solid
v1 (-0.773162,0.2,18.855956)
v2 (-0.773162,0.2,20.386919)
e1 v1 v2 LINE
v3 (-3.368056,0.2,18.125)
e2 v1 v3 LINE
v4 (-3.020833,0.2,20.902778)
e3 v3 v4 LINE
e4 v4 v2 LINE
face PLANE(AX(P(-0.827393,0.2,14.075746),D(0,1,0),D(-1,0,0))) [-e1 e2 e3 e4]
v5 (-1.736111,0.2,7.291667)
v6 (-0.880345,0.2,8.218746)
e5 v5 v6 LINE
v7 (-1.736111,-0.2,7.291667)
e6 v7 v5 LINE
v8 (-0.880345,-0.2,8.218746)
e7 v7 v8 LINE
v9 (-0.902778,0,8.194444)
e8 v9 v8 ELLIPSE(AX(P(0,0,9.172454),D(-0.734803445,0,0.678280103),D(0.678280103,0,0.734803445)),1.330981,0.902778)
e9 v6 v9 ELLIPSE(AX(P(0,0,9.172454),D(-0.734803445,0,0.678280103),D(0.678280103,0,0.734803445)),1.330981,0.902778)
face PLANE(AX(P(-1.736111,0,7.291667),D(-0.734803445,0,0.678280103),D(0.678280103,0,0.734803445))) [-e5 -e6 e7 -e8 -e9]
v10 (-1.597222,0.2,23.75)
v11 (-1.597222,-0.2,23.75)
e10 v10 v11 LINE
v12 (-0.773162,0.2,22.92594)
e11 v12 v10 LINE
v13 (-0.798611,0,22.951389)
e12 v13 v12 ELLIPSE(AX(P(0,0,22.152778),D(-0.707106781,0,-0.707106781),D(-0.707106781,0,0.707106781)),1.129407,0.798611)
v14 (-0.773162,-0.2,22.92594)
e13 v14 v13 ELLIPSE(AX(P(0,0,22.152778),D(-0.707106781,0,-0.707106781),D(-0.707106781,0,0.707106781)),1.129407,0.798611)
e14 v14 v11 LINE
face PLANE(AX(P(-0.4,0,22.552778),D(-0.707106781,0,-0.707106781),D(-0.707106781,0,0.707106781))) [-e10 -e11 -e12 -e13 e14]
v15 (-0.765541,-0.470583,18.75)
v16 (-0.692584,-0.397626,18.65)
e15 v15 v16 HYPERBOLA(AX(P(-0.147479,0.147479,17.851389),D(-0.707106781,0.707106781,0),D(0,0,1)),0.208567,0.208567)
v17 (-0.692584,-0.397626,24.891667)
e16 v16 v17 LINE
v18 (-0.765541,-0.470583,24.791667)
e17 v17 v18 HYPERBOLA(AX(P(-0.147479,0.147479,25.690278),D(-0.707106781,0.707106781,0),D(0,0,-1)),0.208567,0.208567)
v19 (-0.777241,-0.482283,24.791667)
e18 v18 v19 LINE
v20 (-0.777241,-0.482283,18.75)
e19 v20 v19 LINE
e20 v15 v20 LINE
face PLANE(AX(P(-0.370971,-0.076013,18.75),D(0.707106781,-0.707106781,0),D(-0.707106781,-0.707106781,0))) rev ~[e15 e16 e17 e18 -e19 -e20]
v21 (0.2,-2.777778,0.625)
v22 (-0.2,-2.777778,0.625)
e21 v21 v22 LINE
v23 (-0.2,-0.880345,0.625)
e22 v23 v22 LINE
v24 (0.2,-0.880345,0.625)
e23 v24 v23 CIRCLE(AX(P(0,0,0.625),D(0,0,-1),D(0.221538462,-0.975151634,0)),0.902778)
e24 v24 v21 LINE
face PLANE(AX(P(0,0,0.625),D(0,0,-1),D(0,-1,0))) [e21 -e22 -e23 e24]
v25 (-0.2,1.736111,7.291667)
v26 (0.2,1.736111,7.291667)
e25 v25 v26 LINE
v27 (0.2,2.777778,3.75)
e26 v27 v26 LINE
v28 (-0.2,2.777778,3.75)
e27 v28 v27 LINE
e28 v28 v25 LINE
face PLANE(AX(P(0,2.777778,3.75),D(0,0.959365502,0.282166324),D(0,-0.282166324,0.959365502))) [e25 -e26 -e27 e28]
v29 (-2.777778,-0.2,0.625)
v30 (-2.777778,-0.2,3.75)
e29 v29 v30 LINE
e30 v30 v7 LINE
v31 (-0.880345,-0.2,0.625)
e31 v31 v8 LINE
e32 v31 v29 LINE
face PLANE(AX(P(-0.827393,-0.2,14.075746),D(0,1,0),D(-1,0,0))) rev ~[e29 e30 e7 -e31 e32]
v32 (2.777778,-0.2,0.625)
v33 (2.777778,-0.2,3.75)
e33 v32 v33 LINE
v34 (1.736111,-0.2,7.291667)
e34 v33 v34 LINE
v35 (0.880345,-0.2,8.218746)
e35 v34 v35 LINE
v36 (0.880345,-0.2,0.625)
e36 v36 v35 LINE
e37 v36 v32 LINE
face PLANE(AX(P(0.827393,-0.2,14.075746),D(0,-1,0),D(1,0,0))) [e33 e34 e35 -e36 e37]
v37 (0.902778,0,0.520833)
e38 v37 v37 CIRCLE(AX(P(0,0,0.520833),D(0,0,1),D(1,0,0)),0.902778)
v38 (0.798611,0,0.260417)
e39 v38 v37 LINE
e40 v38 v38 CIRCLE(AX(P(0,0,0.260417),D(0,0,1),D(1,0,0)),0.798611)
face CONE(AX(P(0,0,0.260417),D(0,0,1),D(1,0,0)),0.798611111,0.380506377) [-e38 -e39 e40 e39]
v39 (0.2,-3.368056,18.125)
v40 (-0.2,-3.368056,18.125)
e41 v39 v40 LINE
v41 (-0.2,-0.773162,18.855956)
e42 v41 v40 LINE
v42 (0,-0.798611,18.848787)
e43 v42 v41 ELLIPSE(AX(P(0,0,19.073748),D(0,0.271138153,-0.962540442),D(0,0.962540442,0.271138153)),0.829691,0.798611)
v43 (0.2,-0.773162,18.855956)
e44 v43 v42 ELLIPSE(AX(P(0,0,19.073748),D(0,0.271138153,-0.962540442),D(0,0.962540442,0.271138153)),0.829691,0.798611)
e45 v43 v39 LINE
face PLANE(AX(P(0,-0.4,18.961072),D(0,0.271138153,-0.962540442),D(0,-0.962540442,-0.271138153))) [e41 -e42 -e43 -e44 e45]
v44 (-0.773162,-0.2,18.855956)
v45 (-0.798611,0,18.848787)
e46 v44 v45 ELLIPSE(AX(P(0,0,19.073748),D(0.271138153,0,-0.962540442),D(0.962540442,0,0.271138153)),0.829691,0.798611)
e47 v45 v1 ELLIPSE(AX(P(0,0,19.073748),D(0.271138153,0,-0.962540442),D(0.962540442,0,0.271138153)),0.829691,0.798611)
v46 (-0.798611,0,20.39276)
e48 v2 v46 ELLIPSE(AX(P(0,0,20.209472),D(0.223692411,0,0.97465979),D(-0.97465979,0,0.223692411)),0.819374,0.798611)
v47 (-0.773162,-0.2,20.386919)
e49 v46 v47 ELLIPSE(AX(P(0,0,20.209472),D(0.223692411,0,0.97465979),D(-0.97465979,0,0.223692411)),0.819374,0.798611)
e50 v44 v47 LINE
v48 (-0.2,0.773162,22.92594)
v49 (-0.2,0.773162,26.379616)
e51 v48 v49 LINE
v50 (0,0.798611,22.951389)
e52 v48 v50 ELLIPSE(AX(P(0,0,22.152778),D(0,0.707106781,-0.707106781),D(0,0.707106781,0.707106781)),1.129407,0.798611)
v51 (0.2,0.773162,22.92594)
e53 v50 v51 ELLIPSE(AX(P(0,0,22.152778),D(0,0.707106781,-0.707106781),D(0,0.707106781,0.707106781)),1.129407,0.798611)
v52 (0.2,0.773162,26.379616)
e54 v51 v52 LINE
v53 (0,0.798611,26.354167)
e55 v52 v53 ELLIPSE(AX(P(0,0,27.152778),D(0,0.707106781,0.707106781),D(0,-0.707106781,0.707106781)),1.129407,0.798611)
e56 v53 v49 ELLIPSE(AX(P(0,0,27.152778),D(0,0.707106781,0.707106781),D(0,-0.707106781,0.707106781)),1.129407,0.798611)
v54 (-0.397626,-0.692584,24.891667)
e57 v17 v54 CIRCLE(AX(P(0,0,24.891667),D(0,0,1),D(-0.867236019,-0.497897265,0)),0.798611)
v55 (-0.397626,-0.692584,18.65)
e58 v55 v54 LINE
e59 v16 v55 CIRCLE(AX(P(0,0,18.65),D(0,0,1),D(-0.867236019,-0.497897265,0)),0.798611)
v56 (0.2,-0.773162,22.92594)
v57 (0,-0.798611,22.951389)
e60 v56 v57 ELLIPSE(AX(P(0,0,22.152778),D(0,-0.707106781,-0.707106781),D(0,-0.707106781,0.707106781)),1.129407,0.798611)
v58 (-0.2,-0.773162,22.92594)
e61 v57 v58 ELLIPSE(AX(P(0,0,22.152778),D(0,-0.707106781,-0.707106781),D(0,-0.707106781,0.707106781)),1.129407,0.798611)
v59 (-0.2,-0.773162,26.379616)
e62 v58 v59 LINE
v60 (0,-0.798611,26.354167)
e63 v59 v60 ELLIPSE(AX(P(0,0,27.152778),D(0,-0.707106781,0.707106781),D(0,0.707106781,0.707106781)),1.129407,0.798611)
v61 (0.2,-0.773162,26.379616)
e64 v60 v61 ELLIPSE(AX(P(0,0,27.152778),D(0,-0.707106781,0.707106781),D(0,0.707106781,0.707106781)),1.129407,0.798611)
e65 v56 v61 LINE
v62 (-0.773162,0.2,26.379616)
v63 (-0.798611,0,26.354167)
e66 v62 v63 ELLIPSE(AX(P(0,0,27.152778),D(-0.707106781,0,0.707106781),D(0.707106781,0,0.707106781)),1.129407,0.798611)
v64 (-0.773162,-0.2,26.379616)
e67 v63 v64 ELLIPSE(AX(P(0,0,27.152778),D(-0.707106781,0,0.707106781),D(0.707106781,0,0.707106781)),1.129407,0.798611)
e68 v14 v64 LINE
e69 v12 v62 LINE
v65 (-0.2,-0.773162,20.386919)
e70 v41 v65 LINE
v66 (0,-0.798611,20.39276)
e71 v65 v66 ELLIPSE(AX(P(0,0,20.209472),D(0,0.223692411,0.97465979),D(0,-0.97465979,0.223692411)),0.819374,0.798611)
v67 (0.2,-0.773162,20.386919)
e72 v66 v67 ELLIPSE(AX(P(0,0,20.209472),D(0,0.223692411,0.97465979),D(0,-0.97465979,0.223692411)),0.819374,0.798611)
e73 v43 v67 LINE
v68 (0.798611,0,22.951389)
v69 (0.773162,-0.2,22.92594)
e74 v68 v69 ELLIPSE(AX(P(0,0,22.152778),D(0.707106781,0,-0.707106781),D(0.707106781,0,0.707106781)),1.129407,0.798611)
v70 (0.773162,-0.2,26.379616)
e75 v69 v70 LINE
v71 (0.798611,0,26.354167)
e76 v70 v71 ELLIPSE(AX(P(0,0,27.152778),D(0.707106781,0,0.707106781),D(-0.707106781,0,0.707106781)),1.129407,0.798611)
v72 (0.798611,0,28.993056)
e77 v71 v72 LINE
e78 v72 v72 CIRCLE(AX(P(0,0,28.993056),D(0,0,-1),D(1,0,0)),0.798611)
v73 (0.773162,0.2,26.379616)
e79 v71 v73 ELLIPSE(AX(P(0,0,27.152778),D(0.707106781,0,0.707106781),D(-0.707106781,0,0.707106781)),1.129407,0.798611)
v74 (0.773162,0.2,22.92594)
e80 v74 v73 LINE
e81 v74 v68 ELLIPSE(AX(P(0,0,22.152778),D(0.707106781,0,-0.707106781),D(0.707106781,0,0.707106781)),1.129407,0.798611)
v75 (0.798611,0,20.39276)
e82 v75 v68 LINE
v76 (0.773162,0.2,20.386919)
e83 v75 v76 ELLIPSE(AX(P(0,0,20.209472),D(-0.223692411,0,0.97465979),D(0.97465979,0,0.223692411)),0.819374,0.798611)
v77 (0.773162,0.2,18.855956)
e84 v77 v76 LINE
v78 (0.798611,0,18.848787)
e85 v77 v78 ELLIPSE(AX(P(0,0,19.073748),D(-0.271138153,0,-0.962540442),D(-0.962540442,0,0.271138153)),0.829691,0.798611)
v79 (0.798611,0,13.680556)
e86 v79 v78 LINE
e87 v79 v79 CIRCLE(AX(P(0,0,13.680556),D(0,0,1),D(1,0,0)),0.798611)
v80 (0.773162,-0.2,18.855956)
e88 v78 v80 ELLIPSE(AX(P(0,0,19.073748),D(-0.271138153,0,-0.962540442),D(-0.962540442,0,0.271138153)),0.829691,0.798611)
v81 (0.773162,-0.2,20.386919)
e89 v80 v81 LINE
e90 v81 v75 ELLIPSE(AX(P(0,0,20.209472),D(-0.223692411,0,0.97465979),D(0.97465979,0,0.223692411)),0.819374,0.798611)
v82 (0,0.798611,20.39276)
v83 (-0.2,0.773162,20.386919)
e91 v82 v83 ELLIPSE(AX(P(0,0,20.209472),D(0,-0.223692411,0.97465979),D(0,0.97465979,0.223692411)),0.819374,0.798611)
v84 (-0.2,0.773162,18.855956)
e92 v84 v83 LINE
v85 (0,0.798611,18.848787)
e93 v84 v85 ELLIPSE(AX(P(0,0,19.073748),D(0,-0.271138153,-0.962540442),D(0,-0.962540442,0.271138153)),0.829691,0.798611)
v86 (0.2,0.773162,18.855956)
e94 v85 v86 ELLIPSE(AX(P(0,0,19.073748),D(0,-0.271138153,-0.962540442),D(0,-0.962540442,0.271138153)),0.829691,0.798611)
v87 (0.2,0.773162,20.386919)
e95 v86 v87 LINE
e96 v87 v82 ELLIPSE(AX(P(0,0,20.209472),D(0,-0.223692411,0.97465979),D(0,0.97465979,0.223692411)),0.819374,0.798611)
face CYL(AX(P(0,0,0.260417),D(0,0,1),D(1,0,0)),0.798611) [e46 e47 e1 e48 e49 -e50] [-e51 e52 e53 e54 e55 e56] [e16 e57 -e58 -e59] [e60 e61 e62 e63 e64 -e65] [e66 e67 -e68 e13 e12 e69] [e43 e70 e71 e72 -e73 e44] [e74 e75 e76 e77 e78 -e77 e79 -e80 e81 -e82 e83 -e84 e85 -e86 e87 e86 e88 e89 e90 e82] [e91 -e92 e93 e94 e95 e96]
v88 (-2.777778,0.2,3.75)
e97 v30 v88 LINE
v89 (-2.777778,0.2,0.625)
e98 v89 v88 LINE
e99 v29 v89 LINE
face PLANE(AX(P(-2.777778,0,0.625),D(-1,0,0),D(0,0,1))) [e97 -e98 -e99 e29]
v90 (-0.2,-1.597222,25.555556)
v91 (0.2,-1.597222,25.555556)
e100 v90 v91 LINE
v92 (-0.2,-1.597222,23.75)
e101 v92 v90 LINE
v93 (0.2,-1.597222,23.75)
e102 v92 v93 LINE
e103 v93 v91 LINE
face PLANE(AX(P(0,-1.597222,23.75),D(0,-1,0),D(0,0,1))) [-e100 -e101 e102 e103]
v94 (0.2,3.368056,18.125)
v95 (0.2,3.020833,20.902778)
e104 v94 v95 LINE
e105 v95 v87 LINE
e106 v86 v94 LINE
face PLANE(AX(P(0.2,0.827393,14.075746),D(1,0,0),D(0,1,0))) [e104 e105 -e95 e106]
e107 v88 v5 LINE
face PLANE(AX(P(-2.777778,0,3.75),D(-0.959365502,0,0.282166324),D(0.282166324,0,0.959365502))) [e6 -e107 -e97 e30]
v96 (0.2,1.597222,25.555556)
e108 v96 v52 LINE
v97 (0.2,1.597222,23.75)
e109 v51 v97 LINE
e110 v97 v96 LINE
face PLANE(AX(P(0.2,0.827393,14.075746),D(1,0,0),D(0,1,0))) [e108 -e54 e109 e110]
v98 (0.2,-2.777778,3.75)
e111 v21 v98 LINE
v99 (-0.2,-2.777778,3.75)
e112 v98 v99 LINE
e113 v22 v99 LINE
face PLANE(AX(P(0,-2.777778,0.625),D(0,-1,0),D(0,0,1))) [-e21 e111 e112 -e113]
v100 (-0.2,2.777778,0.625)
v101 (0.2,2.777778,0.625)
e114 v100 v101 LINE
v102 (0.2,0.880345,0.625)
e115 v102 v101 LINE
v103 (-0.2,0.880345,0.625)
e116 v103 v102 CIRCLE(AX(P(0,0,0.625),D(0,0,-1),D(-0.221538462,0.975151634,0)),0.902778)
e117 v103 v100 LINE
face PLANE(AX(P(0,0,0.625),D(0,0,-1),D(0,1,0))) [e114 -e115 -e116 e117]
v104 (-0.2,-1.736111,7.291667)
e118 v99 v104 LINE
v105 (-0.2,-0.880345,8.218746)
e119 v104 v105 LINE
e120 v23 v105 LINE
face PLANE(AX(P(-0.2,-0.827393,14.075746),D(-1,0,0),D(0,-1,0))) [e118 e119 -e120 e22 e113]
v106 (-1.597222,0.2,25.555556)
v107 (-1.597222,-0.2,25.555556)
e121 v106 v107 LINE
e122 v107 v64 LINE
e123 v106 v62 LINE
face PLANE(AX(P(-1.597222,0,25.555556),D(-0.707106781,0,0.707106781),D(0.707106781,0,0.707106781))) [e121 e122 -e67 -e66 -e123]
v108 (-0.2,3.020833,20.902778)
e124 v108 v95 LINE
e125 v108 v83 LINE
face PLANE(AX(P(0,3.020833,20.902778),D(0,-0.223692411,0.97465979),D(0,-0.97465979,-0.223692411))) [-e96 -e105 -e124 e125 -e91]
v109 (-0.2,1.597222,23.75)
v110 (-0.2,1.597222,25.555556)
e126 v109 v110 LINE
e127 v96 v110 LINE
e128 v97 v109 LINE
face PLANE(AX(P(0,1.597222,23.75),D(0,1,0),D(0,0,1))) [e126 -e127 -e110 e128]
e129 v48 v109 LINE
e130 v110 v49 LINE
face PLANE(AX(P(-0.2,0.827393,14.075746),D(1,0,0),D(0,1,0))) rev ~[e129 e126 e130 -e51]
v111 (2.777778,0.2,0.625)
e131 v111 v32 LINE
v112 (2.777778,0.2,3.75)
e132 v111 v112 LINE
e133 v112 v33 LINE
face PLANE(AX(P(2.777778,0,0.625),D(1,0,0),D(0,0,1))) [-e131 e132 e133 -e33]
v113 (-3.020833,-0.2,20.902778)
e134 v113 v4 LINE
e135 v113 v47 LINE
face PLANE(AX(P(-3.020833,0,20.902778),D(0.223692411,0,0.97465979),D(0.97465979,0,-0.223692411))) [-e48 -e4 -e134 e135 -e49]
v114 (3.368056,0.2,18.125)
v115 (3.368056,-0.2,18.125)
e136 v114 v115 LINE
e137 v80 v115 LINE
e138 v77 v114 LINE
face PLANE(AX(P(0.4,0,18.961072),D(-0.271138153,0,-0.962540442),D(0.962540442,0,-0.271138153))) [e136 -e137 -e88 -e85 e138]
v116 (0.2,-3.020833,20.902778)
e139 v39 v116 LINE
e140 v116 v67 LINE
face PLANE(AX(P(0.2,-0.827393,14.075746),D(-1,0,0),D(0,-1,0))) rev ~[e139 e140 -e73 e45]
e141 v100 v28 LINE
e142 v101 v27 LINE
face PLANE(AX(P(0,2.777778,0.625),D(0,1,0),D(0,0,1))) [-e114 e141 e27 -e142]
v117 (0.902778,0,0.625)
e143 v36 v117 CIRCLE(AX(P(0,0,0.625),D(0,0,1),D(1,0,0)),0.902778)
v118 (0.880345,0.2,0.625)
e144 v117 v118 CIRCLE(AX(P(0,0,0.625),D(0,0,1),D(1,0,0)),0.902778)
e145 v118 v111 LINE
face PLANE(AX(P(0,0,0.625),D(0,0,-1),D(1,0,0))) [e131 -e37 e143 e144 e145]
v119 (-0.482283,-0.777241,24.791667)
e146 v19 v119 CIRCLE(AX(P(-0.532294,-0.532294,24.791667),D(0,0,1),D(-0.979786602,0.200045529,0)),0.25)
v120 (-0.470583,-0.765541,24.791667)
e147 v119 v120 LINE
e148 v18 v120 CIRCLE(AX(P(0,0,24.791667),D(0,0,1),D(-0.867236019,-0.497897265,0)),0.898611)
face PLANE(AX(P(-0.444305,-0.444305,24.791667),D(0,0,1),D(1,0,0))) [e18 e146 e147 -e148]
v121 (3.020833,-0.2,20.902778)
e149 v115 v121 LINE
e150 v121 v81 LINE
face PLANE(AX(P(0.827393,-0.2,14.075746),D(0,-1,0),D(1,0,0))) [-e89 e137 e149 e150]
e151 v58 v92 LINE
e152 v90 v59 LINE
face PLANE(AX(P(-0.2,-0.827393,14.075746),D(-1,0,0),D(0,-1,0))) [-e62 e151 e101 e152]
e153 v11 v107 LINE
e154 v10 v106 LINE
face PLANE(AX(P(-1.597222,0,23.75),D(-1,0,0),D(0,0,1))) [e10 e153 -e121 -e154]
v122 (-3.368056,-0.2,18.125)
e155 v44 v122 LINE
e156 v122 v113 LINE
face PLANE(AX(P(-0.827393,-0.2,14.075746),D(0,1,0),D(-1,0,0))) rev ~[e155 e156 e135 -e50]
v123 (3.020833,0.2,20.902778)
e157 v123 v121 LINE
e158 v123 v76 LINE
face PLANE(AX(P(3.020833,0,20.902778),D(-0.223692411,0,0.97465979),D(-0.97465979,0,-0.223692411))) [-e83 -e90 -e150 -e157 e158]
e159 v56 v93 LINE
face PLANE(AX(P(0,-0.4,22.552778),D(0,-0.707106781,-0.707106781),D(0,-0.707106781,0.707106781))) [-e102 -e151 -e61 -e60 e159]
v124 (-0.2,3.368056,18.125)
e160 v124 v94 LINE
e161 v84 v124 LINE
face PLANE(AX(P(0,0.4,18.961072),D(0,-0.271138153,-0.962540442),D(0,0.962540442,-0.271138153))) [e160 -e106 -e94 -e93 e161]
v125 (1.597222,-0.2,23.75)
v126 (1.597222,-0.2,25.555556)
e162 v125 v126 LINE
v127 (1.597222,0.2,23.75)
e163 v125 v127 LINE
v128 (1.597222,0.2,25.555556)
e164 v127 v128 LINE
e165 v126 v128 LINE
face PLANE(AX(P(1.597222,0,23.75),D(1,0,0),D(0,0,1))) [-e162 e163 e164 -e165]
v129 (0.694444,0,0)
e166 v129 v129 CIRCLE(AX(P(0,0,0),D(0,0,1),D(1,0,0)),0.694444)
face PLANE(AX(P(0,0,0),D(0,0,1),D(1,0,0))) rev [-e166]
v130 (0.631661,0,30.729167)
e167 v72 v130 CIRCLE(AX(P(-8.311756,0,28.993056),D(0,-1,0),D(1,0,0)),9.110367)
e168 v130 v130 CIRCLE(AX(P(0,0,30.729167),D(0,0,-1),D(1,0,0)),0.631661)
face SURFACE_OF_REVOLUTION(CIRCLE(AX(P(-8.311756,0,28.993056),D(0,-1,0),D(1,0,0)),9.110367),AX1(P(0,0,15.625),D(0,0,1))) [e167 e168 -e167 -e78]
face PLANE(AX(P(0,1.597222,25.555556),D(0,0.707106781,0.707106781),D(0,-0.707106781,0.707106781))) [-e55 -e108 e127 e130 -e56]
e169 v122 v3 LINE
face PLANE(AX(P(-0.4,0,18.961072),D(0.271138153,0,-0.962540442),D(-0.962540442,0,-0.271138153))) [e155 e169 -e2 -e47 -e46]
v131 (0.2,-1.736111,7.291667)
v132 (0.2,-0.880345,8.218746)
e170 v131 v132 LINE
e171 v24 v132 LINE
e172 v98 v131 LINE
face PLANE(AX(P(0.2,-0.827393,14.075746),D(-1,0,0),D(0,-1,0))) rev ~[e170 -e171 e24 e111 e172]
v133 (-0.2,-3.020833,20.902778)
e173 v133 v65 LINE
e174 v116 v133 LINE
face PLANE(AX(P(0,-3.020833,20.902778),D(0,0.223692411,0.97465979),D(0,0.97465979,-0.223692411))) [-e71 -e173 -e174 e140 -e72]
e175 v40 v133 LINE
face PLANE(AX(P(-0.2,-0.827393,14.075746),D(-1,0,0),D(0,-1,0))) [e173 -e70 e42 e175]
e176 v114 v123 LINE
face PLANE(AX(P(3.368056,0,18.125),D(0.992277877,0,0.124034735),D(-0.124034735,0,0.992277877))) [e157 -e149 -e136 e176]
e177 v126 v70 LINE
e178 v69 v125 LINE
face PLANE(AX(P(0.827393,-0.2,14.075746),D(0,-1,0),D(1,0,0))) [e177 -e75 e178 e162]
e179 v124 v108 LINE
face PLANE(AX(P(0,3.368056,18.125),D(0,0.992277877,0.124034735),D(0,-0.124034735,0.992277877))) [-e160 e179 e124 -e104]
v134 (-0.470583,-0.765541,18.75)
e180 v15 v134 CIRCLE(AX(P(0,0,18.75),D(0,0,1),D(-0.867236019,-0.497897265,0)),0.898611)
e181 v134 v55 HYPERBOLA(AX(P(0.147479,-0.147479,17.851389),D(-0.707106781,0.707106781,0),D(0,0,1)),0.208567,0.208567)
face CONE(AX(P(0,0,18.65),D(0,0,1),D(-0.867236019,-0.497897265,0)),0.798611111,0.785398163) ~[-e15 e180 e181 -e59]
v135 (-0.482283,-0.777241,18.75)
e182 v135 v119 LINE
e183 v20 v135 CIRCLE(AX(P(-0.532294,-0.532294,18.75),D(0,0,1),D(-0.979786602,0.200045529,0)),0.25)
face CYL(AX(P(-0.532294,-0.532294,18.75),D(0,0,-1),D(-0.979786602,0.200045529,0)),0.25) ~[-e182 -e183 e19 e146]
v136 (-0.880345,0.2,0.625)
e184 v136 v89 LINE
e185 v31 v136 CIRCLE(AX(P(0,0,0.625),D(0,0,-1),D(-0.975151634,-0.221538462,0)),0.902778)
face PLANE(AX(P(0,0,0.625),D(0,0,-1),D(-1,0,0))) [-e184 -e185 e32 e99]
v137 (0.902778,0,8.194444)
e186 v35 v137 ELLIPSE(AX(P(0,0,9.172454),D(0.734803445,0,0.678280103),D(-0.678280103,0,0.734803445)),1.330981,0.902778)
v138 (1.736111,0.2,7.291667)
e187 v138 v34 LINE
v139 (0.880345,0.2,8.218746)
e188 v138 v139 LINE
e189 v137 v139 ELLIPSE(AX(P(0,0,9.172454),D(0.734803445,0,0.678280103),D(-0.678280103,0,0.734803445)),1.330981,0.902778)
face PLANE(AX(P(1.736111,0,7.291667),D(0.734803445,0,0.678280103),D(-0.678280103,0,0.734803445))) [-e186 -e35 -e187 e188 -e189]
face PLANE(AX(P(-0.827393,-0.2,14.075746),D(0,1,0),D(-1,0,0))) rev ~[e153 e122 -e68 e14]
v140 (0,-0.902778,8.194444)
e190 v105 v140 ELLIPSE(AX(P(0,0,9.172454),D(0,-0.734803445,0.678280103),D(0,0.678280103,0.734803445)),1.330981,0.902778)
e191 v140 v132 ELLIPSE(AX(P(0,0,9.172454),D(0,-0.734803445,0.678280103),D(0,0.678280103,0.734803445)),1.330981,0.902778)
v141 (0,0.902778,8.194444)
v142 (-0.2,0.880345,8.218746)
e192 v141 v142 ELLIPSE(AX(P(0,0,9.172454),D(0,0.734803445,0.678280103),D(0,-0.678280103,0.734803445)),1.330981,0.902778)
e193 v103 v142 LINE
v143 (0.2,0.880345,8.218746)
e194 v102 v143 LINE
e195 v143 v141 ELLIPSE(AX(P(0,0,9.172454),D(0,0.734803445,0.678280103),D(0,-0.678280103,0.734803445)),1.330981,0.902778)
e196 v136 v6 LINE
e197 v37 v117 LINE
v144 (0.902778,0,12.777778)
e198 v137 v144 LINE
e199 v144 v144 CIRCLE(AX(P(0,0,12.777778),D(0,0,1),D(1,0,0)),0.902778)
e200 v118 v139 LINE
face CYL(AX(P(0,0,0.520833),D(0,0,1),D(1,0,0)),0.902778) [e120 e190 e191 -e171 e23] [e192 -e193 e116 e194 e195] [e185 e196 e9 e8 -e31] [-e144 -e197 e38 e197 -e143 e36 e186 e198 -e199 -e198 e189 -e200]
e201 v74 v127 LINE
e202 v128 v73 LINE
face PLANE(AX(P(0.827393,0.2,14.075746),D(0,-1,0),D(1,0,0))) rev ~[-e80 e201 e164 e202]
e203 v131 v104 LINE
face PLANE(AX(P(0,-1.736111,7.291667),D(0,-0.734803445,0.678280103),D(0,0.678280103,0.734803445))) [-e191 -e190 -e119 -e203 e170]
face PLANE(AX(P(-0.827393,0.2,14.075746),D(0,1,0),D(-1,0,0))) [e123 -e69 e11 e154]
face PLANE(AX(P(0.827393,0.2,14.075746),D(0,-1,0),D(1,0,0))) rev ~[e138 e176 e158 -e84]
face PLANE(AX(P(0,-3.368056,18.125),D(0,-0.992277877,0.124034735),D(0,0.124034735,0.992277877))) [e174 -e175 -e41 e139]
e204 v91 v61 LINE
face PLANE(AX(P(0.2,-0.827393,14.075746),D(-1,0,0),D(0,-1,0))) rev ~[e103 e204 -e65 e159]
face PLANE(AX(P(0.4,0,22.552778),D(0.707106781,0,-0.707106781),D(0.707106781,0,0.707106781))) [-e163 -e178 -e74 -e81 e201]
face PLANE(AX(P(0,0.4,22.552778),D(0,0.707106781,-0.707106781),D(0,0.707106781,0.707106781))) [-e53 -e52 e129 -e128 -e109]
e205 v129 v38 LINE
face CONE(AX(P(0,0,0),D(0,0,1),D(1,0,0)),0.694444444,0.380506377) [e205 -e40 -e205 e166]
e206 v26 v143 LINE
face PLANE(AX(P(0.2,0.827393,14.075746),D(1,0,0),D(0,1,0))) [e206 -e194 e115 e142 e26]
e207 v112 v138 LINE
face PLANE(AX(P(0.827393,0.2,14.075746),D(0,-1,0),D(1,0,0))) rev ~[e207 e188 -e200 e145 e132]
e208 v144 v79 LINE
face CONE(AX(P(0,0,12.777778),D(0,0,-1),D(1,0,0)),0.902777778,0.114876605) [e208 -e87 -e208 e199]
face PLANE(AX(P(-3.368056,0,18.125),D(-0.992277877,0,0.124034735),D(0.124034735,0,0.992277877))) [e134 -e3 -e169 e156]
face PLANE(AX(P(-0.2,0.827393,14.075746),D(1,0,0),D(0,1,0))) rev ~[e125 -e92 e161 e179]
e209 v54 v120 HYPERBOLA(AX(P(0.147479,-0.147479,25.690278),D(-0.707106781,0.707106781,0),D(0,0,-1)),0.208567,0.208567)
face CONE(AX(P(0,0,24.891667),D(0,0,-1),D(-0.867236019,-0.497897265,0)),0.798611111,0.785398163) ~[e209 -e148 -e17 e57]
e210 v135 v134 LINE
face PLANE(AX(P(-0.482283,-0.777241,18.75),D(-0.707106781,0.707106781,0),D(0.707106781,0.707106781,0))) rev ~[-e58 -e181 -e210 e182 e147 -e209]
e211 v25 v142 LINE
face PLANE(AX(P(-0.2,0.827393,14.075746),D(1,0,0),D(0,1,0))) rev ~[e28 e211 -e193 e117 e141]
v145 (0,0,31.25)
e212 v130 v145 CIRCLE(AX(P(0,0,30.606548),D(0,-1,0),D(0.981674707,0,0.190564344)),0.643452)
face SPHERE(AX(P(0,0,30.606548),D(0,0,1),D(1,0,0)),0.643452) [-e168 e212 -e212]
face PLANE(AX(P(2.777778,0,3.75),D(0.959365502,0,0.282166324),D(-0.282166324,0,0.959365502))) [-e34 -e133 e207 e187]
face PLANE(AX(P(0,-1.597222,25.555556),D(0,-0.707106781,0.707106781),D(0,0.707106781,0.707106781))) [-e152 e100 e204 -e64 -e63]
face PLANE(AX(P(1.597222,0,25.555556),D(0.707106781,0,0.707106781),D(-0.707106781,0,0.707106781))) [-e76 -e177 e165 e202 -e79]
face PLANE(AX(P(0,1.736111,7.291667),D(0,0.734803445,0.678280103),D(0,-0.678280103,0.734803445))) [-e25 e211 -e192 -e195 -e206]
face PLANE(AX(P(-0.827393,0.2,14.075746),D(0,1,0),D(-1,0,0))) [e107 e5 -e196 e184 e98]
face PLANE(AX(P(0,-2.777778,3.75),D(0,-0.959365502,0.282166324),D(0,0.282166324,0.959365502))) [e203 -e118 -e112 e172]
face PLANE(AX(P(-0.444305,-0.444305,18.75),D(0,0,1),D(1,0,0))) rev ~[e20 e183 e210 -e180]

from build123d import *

# Parameters (mm, degrees)
F4_DEPTH = 0.2
F5_COUNT = 4
F8_DEPTH = 6.0416666667
F9_SIZE  = 0.1


with BuildPart() as f2:
    # F1 (on Front) → F2 (revolve)
    with BuildSketch(Plane.XZ):
        Polygon((0.7986111111, 13.6805555556), (0.7986111111, 0.2604166667), (0.9027777778, 0.5208333333), (0.9027777778, 12.7777777778), align=None)
        with BuildLine():
            Line((0, 31.25), (0, 0))
            Line((0, 0), (0.6944444444, 0))
            Line((0.6944444444, 0), (0.7986111111, 0.2604166667))
            Line((0.7986111111, 0.2604166667), (0.7986111111, 13.6805555556))
            Line((0.7986111111, 13.6805555556), (0.7986111111, 28.9930555556))
            ThreePointArc((0.7986111111, 28.9930555556), (0.7567775283, 29.8651154933), (0.6316609682, 30.7291666667))
            ThreePointArc((0.6316609682, 30.7291666667), (0.4093479388, 31.1030002792), (0, 31.25))
        make_face()
    revolve(axis=Axis((0, 0, 15.625), (0, 0, 1)))

    # F3 (on Front) → F4 (join, symmetric)
    with BuildSketch(Plane.XZ):
        Polygon((0, 27.1527777778), (0, 0.625), (2.7777777778, 0.625), (2.7777777778, 3.75), (1.7361111111, 7.2916666667), (0.4, 8.7391203704), (0.4, 18.9610719875), (3.3680555556, 18.125), (3.0208333333, 20.9027777778), (0.4, 20.3012750455), (0.4, 22.5527777778), (1.5972222222, 23.75), (1.5972222222, 25.5555555556), align=None)
    extrude(amount=F4_DEPTH, both=True)

    # F5: F2 ×4 about axis
    f5_axis = Axis((0, 0, 13.6805555556), (0, 0, 1))


with BuildPart() as f2_1:
    add(f2.part)
    for i in range(1, F5_COUNT):
        add(f2.part.rotate(f5_axis, i * 360 / F5_COUNT))

    # F7 (on offset) → F8 (join)
    with BuildSketch(Plane.XY.offset(18.75)):
        with BuildLine():
            Line((-0.4822828892, -0.777240922), (-0.0760130179, -0.3709710507))
            Line((-0.0760130179, -0.3709710507), (-0.3709710507, -0.0760130179))
            Line((-0.3709710507, -0.0760130179), (-0.777240922, -0.4822828892))
            ThreePointArc((-0.777240922, -0.4822828892), (-0.7090709667, -0.7090709667), (-0.4822828892, -0.777240922))
        make_face()
    extrude(amount=F8_DEPTH)

    # F9
    f9_edges = [f2_1.edges().sort_by_distance(p)[0] for p in [
        (-0.564703, -0.564703, 24.791667),
        (-0.564703, -0.564703, 18.75),
    ]]
    chamfer(f9_edges, length=F9_SIZE)


solid = f2_1.part
